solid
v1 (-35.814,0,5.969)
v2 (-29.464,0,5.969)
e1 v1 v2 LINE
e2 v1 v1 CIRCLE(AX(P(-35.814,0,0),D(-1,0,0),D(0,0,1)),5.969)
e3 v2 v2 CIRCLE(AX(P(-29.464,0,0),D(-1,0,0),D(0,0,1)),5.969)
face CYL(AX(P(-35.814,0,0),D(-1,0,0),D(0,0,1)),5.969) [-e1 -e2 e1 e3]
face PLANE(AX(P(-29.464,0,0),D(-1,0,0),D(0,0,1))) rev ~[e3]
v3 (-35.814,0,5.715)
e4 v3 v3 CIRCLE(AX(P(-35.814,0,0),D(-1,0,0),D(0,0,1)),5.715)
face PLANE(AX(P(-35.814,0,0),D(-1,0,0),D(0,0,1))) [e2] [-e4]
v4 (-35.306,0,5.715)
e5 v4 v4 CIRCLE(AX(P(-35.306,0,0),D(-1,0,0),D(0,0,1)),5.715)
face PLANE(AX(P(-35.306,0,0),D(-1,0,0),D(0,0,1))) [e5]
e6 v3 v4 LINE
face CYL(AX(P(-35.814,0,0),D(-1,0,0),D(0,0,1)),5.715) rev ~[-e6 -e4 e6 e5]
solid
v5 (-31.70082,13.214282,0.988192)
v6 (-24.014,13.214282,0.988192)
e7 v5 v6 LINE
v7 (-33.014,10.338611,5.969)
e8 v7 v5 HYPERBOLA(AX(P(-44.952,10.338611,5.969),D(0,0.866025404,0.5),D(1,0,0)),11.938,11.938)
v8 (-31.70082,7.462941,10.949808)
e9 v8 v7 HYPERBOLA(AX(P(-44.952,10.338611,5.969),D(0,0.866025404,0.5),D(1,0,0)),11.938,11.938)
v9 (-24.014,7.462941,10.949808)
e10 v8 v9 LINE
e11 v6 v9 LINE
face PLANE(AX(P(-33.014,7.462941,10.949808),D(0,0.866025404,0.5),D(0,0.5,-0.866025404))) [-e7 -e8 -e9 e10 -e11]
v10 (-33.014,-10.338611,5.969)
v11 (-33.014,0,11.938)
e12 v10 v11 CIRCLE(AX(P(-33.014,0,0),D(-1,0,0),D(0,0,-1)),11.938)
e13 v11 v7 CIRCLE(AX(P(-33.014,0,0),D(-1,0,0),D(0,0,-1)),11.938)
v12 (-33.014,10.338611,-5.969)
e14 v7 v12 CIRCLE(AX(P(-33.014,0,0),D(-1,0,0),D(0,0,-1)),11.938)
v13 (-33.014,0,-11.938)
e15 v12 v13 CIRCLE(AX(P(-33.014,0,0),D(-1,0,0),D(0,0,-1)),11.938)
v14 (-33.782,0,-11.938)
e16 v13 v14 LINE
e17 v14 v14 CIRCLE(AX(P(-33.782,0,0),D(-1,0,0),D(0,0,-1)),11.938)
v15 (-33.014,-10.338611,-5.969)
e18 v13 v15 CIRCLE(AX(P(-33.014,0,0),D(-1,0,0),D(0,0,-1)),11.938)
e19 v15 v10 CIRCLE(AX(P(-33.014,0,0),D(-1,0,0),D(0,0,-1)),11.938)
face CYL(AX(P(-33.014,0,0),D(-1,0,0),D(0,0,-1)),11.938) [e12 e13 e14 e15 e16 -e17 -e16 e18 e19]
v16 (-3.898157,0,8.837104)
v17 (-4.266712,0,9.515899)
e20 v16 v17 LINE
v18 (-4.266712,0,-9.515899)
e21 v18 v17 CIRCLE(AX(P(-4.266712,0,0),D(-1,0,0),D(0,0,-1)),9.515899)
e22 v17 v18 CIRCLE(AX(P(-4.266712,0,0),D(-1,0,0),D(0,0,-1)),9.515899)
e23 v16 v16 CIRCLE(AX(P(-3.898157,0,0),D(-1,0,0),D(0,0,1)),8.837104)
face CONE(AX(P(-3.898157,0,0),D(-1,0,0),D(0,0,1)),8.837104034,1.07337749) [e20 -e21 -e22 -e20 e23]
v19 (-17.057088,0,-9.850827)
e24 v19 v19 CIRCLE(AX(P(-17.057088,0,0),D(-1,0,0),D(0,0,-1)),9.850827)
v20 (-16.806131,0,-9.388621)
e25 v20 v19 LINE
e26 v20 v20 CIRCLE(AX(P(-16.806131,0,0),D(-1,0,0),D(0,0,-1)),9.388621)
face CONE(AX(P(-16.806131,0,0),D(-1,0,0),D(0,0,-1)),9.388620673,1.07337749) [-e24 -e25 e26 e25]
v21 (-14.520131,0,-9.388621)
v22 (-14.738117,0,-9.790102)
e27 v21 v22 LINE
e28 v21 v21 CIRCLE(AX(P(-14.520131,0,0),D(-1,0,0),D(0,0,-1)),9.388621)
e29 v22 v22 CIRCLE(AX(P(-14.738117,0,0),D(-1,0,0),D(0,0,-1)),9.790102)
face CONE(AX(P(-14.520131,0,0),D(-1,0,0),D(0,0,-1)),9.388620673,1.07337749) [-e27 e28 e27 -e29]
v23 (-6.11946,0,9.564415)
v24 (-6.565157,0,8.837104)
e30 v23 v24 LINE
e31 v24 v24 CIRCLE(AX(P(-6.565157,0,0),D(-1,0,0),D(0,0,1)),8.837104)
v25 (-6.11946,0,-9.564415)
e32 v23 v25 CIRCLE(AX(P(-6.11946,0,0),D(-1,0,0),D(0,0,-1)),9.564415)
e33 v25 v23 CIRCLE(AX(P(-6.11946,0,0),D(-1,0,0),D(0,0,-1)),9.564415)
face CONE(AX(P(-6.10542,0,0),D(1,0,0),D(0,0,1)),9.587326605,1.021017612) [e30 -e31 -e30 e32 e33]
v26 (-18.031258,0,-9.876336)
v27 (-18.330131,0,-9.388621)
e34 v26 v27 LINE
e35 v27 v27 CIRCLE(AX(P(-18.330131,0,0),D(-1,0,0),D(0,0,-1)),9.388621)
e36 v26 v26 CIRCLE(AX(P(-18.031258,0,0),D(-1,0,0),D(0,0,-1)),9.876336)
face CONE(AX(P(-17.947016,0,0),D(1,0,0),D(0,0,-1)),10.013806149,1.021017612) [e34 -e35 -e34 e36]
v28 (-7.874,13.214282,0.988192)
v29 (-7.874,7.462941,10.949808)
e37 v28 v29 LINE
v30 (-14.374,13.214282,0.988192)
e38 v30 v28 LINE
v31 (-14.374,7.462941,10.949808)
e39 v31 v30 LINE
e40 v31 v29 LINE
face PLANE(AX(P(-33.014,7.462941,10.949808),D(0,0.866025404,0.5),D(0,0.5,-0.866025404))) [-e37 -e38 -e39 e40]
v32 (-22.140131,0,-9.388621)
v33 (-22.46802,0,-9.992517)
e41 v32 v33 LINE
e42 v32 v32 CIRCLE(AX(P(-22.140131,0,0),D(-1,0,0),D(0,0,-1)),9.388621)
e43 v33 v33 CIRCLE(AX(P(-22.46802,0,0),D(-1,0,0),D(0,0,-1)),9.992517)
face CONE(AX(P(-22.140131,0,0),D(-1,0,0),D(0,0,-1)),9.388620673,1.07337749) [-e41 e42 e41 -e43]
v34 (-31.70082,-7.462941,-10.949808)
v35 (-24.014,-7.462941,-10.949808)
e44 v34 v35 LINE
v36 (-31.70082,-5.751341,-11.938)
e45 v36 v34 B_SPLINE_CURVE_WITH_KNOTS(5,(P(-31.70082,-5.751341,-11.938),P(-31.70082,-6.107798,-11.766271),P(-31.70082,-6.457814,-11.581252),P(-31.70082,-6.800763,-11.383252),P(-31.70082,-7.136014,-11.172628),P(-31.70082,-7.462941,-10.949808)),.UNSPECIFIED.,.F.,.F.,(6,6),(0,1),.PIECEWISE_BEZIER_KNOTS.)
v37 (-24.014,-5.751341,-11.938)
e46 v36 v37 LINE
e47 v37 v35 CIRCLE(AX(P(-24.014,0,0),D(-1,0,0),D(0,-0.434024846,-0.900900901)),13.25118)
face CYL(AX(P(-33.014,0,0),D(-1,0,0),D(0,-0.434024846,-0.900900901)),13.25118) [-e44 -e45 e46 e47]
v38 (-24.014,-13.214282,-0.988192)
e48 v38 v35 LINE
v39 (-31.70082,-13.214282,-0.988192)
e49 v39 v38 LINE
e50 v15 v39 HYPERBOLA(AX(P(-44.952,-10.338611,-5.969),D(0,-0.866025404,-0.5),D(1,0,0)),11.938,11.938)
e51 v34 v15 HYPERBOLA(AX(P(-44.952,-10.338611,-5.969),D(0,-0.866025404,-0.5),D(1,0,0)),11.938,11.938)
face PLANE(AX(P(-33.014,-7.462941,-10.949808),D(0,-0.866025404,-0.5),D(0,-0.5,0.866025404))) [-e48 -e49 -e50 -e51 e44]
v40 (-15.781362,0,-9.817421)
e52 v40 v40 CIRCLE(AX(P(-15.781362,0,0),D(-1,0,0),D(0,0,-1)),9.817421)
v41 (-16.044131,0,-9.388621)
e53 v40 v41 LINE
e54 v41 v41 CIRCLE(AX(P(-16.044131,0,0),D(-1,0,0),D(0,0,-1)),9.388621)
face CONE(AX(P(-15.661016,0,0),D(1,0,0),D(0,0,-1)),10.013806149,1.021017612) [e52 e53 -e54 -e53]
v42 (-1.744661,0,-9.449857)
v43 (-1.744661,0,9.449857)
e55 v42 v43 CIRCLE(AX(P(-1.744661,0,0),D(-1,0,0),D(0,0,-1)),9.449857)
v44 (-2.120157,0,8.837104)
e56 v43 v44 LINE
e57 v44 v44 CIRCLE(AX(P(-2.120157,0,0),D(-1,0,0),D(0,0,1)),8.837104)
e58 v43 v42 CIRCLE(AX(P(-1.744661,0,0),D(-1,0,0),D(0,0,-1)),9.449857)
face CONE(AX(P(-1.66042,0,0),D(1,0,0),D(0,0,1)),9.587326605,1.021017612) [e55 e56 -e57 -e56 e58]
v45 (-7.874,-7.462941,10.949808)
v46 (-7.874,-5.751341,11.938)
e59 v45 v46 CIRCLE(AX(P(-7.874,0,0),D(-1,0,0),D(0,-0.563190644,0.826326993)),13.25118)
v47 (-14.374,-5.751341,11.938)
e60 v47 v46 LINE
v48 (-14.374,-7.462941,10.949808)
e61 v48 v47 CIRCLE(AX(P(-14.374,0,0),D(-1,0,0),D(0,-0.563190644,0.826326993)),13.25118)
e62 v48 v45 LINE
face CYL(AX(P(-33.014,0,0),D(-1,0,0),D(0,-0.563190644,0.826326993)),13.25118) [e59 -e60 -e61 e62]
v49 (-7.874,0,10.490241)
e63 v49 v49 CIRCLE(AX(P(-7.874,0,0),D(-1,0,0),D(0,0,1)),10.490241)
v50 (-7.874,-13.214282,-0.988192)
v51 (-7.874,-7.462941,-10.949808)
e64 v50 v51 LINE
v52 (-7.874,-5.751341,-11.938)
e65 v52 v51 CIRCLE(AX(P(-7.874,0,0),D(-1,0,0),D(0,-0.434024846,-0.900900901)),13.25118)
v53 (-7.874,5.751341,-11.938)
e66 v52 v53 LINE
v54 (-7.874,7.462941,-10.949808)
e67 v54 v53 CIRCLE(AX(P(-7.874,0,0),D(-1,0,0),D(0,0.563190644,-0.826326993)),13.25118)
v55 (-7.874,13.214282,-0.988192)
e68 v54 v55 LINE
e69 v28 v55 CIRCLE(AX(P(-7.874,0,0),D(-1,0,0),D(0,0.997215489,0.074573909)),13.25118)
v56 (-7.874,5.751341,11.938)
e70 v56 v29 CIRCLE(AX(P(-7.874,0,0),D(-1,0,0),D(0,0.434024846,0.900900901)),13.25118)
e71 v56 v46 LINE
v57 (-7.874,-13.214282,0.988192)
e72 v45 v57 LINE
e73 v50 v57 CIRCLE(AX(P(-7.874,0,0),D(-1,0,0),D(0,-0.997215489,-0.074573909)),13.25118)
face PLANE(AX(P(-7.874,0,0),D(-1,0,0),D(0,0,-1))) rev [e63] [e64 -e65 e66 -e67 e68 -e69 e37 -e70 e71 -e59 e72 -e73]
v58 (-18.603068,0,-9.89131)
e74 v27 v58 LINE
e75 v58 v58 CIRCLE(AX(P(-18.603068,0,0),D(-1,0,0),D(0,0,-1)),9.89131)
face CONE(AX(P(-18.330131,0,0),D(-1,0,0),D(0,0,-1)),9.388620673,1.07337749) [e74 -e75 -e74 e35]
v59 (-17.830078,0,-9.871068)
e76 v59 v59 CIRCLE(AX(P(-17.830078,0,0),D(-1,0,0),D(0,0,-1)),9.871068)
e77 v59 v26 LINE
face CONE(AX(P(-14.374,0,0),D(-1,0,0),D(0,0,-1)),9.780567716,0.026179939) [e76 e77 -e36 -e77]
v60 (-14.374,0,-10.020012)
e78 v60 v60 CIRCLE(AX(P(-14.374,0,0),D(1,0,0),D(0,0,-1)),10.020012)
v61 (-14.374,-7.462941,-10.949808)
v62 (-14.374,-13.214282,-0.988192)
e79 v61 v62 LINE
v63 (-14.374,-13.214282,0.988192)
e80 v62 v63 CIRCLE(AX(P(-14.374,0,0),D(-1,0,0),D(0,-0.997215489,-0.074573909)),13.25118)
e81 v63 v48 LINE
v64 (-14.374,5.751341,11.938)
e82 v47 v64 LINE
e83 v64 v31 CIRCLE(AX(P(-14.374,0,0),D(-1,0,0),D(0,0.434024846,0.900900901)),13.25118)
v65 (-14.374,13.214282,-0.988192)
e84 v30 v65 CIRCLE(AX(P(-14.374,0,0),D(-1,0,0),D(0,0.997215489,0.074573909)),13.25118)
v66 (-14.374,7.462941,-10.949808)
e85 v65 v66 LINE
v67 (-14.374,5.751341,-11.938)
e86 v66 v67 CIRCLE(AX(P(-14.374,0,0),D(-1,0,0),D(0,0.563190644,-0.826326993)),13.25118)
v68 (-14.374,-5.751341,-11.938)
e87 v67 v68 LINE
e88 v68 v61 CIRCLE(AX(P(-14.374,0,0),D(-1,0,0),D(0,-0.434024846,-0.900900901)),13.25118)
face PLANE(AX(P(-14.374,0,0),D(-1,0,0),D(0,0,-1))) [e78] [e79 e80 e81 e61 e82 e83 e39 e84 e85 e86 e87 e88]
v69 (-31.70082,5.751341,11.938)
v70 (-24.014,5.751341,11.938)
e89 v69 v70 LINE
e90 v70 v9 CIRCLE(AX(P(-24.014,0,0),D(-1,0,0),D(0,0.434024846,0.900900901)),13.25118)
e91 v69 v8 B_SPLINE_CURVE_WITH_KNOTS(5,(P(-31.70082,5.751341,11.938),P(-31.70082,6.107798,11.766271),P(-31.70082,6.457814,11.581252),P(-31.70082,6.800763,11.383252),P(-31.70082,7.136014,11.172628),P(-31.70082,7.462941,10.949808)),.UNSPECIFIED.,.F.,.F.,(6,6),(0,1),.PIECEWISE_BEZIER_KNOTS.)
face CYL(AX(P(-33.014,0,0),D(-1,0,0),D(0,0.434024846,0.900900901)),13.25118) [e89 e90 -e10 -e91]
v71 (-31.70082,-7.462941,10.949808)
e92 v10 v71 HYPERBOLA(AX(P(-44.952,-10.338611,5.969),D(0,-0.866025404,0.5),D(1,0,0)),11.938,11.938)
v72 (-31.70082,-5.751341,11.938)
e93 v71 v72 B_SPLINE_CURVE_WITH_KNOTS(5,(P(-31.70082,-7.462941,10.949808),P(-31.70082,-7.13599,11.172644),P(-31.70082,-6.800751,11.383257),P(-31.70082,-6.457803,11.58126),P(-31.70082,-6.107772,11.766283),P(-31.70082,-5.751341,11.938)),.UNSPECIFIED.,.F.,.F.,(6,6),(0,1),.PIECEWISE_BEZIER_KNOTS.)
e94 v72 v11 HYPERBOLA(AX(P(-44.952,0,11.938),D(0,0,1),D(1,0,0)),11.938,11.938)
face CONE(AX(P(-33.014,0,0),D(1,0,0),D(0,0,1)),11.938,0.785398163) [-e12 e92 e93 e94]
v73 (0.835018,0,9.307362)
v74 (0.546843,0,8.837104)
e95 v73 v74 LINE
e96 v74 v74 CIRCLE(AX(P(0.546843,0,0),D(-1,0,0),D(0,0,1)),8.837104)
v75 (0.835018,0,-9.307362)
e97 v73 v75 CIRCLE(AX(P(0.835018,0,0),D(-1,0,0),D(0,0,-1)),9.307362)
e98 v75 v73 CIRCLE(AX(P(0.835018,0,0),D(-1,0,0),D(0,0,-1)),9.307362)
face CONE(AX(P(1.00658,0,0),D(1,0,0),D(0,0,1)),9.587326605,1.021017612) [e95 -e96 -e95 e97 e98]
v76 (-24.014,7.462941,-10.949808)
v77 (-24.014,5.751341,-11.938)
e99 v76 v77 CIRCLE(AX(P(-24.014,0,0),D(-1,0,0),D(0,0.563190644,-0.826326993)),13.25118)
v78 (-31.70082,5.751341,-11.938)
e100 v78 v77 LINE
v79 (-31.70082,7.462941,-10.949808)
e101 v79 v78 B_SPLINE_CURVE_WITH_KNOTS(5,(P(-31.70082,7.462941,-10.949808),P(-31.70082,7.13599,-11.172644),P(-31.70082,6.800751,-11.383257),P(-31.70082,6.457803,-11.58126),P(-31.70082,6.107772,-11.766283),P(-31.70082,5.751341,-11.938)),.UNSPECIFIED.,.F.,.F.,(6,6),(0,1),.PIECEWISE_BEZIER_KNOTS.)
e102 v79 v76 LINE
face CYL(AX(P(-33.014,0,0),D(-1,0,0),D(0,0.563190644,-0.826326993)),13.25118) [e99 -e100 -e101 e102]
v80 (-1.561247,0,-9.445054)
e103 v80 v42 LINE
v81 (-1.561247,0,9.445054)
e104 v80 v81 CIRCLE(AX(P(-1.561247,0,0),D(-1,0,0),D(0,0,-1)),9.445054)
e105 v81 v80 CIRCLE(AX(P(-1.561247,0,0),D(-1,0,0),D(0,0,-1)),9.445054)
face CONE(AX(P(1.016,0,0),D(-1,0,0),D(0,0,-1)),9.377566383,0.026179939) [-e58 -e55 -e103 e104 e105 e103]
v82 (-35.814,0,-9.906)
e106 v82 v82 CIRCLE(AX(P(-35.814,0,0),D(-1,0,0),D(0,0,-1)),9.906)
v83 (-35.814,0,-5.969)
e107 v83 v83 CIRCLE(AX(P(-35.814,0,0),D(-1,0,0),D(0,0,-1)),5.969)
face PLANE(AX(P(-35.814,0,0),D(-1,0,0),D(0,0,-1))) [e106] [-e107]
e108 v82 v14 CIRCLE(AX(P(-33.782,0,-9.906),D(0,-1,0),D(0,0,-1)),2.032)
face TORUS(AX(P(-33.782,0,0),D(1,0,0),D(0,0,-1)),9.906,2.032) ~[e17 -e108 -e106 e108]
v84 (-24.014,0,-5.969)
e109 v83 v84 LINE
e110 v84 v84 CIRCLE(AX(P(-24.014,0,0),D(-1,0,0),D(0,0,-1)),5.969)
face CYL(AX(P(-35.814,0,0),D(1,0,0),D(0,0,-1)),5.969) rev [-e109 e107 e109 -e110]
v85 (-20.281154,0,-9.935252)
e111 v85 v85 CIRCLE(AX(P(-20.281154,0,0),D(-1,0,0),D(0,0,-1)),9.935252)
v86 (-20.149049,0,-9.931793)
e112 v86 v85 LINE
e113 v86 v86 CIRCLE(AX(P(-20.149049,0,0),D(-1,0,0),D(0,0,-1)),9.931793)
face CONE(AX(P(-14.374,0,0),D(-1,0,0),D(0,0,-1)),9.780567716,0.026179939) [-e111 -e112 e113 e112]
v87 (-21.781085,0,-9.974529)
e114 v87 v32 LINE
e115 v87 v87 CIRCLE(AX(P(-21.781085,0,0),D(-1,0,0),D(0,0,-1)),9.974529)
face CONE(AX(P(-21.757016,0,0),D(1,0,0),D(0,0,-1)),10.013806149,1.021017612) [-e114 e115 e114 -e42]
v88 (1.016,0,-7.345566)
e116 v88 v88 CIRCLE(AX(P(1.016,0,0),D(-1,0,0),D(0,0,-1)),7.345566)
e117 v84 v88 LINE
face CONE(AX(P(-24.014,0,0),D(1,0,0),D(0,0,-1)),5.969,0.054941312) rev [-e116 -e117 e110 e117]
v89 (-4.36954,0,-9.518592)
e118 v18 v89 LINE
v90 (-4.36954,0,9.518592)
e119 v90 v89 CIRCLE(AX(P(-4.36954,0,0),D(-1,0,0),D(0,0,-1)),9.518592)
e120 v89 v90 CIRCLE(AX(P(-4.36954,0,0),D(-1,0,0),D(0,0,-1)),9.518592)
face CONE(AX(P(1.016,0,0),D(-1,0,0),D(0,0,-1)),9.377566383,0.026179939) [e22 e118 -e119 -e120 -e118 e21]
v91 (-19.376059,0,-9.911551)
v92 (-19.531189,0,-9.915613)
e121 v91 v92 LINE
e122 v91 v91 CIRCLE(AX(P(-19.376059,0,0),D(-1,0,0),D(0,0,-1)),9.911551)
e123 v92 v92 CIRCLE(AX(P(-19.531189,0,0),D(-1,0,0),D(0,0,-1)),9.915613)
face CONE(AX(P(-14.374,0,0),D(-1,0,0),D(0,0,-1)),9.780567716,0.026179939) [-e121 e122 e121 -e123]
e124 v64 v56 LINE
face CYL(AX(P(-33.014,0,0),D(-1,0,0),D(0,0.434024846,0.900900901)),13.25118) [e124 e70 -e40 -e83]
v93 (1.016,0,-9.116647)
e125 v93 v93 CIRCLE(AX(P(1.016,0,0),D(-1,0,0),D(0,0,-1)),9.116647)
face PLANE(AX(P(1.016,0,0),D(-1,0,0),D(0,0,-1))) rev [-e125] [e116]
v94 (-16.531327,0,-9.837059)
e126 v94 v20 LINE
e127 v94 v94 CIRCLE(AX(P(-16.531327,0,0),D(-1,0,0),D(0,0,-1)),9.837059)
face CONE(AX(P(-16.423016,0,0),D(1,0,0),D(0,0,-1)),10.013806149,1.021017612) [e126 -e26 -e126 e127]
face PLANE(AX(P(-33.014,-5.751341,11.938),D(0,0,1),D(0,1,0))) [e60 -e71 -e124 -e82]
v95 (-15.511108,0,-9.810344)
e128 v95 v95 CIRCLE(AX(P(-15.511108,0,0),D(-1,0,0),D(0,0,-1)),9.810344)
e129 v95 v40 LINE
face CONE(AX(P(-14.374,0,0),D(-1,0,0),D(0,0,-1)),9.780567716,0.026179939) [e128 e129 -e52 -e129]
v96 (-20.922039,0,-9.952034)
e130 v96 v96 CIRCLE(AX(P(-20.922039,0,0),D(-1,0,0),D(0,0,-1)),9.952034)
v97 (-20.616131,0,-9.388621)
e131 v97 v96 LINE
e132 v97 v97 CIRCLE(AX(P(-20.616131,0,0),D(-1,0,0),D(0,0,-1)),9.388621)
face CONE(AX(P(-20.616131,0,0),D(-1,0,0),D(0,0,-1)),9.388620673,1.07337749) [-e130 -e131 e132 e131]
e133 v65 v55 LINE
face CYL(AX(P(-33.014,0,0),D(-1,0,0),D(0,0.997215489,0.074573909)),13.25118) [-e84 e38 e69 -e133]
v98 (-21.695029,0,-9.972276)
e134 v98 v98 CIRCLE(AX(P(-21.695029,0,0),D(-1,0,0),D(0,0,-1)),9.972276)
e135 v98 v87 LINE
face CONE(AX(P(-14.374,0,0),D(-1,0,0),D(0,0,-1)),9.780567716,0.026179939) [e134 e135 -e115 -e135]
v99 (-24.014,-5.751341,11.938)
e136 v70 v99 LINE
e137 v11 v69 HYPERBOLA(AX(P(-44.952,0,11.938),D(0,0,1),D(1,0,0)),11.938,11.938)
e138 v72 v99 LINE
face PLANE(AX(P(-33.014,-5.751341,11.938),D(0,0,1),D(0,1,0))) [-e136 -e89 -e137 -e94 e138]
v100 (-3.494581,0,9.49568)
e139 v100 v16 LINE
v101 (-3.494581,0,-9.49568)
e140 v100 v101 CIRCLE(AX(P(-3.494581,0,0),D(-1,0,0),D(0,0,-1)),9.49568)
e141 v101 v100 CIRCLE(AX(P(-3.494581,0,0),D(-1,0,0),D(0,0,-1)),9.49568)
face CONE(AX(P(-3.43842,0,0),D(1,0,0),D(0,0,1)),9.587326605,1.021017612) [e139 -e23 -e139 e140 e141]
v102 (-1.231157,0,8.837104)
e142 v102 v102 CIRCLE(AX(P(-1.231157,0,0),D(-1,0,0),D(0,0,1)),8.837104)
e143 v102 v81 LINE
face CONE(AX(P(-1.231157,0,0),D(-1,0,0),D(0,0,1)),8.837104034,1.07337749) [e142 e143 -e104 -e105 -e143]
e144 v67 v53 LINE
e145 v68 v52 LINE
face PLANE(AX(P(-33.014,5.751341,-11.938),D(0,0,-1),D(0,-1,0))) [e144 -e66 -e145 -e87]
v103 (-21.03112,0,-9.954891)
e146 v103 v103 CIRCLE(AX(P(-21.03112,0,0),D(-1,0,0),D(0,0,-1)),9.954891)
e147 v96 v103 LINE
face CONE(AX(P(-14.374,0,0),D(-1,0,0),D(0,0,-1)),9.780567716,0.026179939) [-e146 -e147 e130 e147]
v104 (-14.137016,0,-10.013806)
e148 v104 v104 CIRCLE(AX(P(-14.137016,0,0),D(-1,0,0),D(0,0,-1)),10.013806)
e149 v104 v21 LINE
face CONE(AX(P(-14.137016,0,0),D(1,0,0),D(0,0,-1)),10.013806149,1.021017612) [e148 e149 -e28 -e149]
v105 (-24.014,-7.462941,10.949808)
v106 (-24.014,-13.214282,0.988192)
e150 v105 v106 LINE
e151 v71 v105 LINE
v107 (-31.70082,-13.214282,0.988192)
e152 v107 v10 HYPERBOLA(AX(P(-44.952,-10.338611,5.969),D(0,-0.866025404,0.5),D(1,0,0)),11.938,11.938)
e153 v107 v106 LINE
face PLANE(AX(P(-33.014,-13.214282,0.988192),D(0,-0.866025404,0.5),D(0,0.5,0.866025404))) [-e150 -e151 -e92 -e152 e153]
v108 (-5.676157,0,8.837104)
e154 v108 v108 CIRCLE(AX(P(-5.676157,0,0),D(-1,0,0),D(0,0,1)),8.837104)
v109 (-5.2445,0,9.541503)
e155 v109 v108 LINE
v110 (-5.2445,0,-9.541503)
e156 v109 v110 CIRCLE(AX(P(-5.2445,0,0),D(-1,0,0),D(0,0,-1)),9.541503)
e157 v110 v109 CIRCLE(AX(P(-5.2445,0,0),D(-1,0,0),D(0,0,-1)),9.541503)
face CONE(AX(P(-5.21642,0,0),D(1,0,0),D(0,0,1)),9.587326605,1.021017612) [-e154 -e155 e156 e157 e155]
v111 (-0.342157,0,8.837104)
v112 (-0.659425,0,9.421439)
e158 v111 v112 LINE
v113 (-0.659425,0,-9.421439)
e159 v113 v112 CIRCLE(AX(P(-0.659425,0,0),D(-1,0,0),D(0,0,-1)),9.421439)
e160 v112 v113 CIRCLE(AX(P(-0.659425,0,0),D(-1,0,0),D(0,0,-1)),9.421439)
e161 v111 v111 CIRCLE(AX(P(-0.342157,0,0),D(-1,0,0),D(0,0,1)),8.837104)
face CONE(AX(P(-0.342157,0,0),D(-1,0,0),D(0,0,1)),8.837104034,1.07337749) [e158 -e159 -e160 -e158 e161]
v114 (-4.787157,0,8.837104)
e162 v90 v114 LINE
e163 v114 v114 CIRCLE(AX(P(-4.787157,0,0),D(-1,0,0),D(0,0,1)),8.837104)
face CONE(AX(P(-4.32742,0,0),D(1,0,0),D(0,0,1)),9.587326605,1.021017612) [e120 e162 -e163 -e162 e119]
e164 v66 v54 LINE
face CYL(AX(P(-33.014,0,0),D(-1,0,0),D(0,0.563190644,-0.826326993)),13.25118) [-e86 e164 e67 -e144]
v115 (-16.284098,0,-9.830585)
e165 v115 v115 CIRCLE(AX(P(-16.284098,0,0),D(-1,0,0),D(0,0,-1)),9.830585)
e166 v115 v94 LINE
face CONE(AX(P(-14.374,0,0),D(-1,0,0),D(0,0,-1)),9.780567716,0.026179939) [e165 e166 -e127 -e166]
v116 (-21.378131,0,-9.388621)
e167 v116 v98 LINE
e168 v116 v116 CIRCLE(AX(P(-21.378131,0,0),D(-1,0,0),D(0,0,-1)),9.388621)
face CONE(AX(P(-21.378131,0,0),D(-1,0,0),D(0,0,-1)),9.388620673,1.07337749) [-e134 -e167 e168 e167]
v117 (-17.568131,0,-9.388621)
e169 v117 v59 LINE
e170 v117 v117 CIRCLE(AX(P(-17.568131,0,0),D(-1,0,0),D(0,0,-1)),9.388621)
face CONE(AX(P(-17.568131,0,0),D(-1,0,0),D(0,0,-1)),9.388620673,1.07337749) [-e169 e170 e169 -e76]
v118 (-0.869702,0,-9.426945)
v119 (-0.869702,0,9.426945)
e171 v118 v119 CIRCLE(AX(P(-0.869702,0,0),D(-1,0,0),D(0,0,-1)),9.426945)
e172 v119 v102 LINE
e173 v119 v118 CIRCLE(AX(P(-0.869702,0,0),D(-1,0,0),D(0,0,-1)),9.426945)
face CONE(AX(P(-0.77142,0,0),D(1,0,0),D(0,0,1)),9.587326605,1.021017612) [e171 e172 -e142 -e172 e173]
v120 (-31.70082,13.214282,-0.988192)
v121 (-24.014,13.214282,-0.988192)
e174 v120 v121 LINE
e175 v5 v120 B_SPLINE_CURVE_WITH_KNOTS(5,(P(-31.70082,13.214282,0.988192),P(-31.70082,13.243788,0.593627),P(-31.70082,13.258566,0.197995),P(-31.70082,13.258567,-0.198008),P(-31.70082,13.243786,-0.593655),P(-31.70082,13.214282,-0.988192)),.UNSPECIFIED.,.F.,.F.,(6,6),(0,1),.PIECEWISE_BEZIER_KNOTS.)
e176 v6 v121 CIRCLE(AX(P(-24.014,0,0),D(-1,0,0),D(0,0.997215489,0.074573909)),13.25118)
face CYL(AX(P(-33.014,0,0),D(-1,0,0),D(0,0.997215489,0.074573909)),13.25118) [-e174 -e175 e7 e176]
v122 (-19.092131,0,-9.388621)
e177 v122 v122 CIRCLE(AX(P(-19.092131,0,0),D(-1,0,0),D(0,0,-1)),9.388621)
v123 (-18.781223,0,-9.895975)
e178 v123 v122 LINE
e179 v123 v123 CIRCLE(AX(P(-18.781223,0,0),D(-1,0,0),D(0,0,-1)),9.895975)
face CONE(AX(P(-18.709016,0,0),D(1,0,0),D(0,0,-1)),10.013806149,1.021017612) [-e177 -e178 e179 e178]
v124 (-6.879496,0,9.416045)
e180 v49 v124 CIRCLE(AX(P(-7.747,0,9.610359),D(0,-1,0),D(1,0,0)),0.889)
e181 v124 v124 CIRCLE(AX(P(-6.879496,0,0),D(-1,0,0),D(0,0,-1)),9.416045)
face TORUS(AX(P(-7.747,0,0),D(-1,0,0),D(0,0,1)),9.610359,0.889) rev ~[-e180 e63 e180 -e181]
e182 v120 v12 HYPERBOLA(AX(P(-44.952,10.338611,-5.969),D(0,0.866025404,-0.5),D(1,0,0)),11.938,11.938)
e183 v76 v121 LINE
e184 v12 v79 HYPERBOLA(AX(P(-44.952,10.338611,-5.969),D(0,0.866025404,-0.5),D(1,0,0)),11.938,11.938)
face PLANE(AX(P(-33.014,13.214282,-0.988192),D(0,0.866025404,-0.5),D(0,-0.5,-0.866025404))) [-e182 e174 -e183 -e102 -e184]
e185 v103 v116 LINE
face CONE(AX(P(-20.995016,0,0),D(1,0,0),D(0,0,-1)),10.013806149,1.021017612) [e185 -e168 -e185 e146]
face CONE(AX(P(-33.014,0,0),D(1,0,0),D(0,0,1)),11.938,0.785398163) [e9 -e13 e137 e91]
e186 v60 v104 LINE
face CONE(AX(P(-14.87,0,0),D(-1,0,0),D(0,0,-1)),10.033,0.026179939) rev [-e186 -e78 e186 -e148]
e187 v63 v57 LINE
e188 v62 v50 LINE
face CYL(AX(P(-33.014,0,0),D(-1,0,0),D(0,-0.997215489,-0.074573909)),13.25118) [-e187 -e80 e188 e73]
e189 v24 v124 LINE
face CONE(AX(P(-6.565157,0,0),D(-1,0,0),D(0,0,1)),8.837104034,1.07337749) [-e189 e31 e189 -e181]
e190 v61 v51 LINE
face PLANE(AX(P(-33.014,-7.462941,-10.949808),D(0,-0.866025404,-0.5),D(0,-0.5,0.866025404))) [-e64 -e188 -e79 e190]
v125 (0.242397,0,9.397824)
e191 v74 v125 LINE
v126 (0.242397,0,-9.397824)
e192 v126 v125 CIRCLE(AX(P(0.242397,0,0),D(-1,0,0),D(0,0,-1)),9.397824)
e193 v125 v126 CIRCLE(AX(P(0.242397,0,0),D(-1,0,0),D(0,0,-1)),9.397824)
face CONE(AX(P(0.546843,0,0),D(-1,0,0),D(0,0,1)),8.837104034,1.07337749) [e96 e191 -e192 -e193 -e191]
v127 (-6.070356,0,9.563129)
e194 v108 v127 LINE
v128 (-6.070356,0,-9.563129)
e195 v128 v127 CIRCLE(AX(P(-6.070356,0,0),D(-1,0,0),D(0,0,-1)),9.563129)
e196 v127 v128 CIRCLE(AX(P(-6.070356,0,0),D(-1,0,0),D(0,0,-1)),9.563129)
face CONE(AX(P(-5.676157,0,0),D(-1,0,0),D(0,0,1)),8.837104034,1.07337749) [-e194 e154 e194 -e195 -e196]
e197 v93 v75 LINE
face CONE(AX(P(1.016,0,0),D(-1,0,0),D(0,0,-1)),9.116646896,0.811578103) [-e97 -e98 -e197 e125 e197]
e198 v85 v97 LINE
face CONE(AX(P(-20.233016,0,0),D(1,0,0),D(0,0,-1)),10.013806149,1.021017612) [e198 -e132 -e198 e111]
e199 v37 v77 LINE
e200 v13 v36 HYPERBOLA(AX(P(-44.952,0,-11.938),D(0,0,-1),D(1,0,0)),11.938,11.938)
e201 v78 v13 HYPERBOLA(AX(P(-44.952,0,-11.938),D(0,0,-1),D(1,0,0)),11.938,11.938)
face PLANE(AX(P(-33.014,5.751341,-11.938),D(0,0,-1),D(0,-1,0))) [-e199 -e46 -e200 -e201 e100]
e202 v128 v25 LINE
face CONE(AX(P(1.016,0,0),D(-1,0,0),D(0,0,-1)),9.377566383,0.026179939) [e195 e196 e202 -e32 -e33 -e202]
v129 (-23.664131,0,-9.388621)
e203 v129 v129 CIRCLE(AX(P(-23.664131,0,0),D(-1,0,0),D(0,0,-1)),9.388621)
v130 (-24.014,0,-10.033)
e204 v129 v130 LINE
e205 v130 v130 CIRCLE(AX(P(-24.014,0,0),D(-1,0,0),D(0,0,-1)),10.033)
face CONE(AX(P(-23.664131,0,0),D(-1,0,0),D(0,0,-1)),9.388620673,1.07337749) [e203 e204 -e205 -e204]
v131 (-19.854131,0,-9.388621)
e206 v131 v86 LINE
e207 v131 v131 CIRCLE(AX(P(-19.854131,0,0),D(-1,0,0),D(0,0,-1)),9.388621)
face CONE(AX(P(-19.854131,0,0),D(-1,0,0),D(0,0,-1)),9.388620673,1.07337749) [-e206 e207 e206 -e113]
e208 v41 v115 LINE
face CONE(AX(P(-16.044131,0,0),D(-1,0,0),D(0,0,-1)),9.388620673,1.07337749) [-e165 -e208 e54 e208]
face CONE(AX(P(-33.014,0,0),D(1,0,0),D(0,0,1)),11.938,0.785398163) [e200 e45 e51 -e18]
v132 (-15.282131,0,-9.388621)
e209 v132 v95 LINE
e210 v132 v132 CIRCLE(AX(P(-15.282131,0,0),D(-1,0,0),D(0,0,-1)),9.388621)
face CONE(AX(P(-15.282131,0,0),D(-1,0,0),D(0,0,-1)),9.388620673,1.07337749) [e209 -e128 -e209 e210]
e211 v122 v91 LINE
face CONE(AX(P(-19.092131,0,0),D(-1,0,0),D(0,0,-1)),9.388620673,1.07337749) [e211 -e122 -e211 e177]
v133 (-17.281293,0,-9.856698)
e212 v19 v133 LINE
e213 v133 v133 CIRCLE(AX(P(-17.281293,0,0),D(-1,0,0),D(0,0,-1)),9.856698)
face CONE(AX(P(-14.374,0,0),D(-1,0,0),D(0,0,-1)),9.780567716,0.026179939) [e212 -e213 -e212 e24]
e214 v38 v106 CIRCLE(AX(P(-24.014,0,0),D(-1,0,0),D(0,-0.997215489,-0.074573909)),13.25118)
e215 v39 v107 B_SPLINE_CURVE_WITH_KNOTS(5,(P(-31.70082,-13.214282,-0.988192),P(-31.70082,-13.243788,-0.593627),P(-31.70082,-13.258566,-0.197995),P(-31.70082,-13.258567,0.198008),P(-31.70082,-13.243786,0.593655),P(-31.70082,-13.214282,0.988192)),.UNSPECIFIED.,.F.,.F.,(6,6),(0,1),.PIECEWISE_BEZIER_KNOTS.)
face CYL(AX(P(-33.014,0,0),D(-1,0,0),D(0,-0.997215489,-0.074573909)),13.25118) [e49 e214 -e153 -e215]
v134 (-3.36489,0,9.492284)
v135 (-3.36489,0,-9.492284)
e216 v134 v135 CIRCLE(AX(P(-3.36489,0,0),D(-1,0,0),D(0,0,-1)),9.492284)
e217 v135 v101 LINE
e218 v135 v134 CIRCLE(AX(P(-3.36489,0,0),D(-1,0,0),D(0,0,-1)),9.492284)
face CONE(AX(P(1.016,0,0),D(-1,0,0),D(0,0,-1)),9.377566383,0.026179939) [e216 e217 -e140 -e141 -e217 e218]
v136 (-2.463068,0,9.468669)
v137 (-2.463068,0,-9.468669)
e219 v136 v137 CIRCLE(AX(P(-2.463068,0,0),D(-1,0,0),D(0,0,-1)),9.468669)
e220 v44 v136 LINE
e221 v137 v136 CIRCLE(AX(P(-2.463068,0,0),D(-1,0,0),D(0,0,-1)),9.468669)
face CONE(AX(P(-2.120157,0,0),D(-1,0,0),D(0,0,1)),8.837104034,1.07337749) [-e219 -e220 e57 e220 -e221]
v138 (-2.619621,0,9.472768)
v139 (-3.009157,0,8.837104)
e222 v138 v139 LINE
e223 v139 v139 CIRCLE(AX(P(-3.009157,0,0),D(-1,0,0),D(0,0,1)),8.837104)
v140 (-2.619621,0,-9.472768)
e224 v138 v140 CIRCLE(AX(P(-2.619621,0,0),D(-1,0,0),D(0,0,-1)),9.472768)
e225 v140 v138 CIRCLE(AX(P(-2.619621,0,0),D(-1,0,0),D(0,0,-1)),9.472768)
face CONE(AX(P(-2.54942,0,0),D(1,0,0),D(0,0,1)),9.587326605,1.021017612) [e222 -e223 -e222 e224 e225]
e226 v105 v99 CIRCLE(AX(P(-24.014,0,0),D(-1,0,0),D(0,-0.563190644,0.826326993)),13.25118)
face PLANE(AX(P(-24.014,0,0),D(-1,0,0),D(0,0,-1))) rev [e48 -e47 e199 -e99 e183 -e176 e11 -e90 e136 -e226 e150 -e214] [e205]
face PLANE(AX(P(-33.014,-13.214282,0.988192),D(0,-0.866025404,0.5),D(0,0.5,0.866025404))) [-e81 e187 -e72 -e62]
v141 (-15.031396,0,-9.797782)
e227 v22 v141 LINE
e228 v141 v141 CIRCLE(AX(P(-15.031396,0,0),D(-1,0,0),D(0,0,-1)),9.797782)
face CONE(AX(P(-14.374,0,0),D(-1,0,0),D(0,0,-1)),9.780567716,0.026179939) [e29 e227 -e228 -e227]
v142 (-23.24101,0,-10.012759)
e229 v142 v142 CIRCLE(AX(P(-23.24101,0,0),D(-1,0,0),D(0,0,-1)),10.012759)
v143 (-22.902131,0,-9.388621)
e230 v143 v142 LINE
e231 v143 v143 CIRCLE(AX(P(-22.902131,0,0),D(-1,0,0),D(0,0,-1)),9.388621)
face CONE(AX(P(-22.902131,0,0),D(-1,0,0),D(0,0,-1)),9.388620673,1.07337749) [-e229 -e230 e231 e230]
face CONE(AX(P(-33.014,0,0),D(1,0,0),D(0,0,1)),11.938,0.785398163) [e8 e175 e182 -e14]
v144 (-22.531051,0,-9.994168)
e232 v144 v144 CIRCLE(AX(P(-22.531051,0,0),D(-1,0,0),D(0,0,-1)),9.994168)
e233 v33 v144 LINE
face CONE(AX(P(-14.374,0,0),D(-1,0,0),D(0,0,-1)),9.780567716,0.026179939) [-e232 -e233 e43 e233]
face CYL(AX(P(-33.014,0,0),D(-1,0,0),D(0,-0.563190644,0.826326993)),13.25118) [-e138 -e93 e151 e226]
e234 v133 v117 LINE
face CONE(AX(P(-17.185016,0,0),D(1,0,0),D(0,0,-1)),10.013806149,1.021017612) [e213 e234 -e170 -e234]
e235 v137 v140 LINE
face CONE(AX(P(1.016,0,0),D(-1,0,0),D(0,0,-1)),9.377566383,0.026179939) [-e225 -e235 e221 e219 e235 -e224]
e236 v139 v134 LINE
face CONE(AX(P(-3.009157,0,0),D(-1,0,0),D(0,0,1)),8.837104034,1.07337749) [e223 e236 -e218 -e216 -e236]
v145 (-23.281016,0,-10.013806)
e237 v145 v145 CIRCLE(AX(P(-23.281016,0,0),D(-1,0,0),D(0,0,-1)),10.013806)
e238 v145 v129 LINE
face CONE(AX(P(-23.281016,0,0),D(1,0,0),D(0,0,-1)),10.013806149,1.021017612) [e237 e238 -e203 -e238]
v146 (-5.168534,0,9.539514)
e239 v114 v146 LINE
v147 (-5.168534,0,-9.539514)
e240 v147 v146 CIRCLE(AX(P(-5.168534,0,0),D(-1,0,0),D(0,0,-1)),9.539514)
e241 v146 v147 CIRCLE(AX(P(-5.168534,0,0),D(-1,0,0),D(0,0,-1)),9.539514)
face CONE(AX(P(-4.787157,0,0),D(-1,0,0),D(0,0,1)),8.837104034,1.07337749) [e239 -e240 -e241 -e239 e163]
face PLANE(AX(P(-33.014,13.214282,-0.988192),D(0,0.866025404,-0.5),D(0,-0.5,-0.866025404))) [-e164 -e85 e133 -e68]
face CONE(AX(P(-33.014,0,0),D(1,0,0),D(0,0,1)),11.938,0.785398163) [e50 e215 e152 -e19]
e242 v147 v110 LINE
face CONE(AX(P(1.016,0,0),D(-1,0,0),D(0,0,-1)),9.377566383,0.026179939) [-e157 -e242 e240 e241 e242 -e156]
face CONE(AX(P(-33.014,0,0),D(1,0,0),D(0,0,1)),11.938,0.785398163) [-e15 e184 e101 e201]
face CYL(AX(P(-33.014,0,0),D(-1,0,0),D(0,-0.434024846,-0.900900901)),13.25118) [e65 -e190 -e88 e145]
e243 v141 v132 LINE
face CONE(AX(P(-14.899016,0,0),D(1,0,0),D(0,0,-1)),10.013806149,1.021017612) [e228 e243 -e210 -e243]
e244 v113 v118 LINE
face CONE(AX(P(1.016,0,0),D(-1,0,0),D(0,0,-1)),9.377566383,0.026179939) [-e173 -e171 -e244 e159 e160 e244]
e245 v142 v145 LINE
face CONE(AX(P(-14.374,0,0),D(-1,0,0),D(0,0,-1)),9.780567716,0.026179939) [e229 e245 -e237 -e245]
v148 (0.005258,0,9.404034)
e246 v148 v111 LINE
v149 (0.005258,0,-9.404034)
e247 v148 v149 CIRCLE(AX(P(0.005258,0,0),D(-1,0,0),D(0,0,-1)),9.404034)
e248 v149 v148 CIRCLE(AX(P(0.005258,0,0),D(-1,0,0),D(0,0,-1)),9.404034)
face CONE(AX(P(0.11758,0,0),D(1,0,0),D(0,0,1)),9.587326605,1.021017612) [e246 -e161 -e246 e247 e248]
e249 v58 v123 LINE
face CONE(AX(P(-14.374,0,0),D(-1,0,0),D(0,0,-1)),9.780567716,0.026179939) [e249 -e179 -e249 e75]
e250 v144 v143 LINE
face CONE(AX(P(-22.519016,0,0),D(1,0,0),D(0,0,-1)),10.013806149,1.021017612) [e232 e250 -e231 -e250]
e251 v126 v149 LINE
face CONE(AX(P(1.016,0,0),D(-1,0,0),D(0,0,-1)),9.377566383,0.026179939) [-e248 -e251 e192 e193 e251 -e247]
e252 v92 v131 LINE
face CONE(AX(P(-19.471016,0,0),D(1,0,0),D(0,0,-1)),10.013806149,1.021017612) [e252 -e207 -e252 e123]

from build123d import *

# Parameters (mm, degrees)
SKETCH12_OUTSIDE_W = 65.136
SKETCH12_OUTSIDE_H = 65.136
CUT_EXTRUDE2_DEPTH = 35.03
FILLET4_R          = 2.032
SKETCH19_OUTSIDE_W = 40.13
SKETCH19_OUTSIDE_H = 42.756
SKETCH19_OUTSIDE_R = 11.938
CUT_EXTRUDE3_DEPTH = 1.999996
CUT_EXTRUDE3_DRAFT = -45
CHAMFER1_SIZE      = 0.260919487
CHAMFER1_SIZE2     = 0.254
SKETCH21_R         = 5.969
PLUG_DEPTH         = 6.35
SKETCH22_R         = 5.715
CUT_EXTRUDE4_DEPTH = 0.508
LPATTERN1_COUNT    = 13
LPATTERN1_PITCH    = 0.762
LPATTERN2_COUNT    = 10
LPATTERN2_PITCH    = 0.889
SKETCH32_R         = 0.889


with BuildPart() as part:
    # Sketch10 → Revolve2 (revolve)
    with BuildSketch(Plane.XY, mode=Mode.PRIVATE) as revolve2_sk:
        Polygon((-35.814, 5.969), (-24.014, 5.969), (1.016, 7.345566383), (1.016, 9.377566383), (-7.874, 9.610359226), (-7.874, 23.876), (-14.374, 23.876), (-14.374, 9.780567716), (-24.014, 10.033), (-24.014, 23.876), (-33.014, 23.876), (-33.014, 11.938), (-35.814, 11.938), align=None)
    revolve(revolve2_sk.sketch.rotate(Axis((0, 0, 0), (-1, 0, 0)), 90), axis=Axis((0, 0, 0), (-1, 0, 0)))  # turned: the seam where the file's is

    # Sketch12 outside → Cut-Extrude2 (cut, through all)
    with BuildSketch(Plane.ZY.offset(33.014)):
        Rectangle(SKETCH12_OUTSIDE_W, SKETCH12_OUTSIDE_H)
        with BuildLine():
            Line((-0.98819228, 13.214281948), (-10.94980772, 7.462940592))
            ThreePointArc((-10.94980772, 7.462940592), (-11.47585851, 6.62559), (-11.938, 5.751341356))
            Line((-11.938, 5.751341356), (-11.938, -5.751341356))
            ThreePointArc((-11.938, -5.751341356), (-11.47585851, -6.62559), (-10.94980772, -7.462940592))
            Line((-10.94980772, -7.462940592), (-0.98819228, -13.214281948))
            ThreePointArc((-0.98819228, -13.214281948), (0, -13.25118), (0.98819228, -13.214281948))
            Line((0.98819228, -13.214281948), (10.94980772, -7.462940592))
            ThreePointArc((10.94980772, -7.462940592), (11.47585851, -6.62559), (11.938, -5.751341356))
            Line((11.938, -5.751341356), (11.938, 5.751341356))
            ThreePointArc((11.938, 5.751341356), (11.47585851, 6.62559), (10.94980772, 7.462940592))
            Line((10.94980772, 7.462940592), (0.98819228, 13.214281948))
            ThreePointArc((0.98819228, 13.214281948), (0, 13.25118), (-0.98819228, 13.214281948))
        make_face(mode=Mode.SUBTRACT)
    extrude(amount=-CUT_EXTRUDE2_DEPTH, mode=Mode.SUBTRACT)

    # Fillet4
    fillet4_edges = [part.edges().sort_by_distance(p)[0] for p in [
        (-35.814, 0, 11.938),
    ]]
    fillet(fillet4_edges, radius=FILLET4_R)


with BuildPart() as cut_extrude3_tool:
    # Sketch19 outside → Cut-Extrude3 (with draft: the straight prism first)
    with BuildSketch(Plane.ZY.offset(33.014)):
        Rectangle(SKETCH19_OUTSIDE_W, SKETCH19_OUTSIDE_H)
        Circle(SKETCH19_OUTSIDE_R, mode=Mode.SUBTRACT)
    extrude(amount=-CUT_EXTRUDE3_DEPTH)
    # Cut-Extrude3: the draft: its side faces are tilted about the plane it starts from
    cut_extrude3_sides = [cut_extrude3_tool.faces().sort_by_distance(p)[0] for p in [
        (-32.014002, -21.378, 0),
        (-32.014002, 0, 20.065),
        (-32.014002, 21.378, 0),
        (-32.014002, 0, -20.065),
        (-32.014002, 0, -11.938),
    ]]
    draft(cut_extrude3_sides, Plane.ZY.offset(33.014), CUT_EXTRUDE3_DRAFT)


with BuildPart() as part_1:
    add(part.part)

    # Cut-Extrude3: cut by cut_extrude3_tool
    add(cut_extrude3_tool.part, mode=Mode.SUBTRACT)

    # Chamfer1
    chamfer1_edges = [part_1.edges().sort_by_distance(p)[0] for p in [
        (1.016, 0, 9.377566383),
    ]]
    chamfer1_side = [part_1.faces().sort_by_distance(p)[0] for p in [
        (1.016, 0, 7.610804014),
    ]]
    chamfer(chamfer1_edges, length=CHAMFER1_SIZE, length2=CHAMFER1_SIZE2, reference=chamfer1_side[0])

    # Sketch29 → Cut-Revolve1 (revolve, cut)
    with BuildSketch(Plane.XY, mode=Mode.PRIVATE) as cut_revolve1_sk:
        Polygon((-24.014, 10.033), (-23.281016419, 10.013806149), (-23.664130572, 9.388620673), align=None)
    cut_revolve1 = revolve(cut_revolve1_sk.sketch.rotate(Axis((0, 0, 0), (-1, 0, 0)), 90), axis=Axis((0, 0, 0), (-1, 0, 0)), mode=Mode.SUBTRACT)  # turned: the seam where the file's is

    # LPattern1: Cut-Revolve1 ×13
    with Locations(*[(i * LPATTERN1_PITCH, 0, 0) for i in range(1, LPATTERN1_COUNT)]):
        add(cut_revolve1, mode=Mode.SUBTRACT)

    # Sketch30 → Cut-Revolve2 (revolve, cut)
    with BuildSketch(Plane.XY, mode=Mode.PRIVATE) as cut_revolve2_sk:
        Polygon((-7.874, 9.610359226), (-6.994419703, 9.587326605), (-7.454156686, 8.837104034), align=None)
    cut_revolve2 = revolve(cut_revolve2_sk.sketch.rotate(Axis((0, 0, 0), (-1, 0, 0)), 270), axis=Axis((0, 0, 0), (-1, 0, 0)), mode=Mode.SUBTRACT)  # turned: the seam where the file's is

    # LPattern2: Cut-Revolve2 ×10
    with Locations(*[(i * LPATTERN2_PITCH, 0, 0) for i in range(1, LPATTERN2_COUNT)]):
        add(cut_revolve2, mode=Mode.SUBTRACT)

    # Sketch32 → Cut-Revolve3 (revolve, cut)
    with BuildSketch(Plane.XY, mode=Mode.PRIVATE) as cut_revolve3_sk:
        with Locations((-7.747, 9.610359226)):
            Circle(SKETCH32_R)
    revolve(cut_revolve3_sk.sketch.rotate(Axis((0, 0, 0), (-1, 0, 0)), 270), axis=Axis((0, 0, 0), (-1, 0, 0)), mode=Mode.SUBTRACT)  # turned: the seam where the file's is


with BuildPart() as body_2:
    # Sketch21 → plug (new body)
    with BuildSketch(Plane.ZY.offset(35.814)):
        Circle(SKETCH21_R)
    extrude(amount=-PLUG_DEPTH)

    # Sketch22 → Cut-Extrude4 (cut)
    with BuildSketch(Plane.ZY.offset(35.814)):
        Circle(SKETCH22_R)
    extrude(amount=-CUT_EXTRUDE4_DEPTH, mode=Mode.SUBTRACT)


solid = Compound([part_1.part, body_2.part])
